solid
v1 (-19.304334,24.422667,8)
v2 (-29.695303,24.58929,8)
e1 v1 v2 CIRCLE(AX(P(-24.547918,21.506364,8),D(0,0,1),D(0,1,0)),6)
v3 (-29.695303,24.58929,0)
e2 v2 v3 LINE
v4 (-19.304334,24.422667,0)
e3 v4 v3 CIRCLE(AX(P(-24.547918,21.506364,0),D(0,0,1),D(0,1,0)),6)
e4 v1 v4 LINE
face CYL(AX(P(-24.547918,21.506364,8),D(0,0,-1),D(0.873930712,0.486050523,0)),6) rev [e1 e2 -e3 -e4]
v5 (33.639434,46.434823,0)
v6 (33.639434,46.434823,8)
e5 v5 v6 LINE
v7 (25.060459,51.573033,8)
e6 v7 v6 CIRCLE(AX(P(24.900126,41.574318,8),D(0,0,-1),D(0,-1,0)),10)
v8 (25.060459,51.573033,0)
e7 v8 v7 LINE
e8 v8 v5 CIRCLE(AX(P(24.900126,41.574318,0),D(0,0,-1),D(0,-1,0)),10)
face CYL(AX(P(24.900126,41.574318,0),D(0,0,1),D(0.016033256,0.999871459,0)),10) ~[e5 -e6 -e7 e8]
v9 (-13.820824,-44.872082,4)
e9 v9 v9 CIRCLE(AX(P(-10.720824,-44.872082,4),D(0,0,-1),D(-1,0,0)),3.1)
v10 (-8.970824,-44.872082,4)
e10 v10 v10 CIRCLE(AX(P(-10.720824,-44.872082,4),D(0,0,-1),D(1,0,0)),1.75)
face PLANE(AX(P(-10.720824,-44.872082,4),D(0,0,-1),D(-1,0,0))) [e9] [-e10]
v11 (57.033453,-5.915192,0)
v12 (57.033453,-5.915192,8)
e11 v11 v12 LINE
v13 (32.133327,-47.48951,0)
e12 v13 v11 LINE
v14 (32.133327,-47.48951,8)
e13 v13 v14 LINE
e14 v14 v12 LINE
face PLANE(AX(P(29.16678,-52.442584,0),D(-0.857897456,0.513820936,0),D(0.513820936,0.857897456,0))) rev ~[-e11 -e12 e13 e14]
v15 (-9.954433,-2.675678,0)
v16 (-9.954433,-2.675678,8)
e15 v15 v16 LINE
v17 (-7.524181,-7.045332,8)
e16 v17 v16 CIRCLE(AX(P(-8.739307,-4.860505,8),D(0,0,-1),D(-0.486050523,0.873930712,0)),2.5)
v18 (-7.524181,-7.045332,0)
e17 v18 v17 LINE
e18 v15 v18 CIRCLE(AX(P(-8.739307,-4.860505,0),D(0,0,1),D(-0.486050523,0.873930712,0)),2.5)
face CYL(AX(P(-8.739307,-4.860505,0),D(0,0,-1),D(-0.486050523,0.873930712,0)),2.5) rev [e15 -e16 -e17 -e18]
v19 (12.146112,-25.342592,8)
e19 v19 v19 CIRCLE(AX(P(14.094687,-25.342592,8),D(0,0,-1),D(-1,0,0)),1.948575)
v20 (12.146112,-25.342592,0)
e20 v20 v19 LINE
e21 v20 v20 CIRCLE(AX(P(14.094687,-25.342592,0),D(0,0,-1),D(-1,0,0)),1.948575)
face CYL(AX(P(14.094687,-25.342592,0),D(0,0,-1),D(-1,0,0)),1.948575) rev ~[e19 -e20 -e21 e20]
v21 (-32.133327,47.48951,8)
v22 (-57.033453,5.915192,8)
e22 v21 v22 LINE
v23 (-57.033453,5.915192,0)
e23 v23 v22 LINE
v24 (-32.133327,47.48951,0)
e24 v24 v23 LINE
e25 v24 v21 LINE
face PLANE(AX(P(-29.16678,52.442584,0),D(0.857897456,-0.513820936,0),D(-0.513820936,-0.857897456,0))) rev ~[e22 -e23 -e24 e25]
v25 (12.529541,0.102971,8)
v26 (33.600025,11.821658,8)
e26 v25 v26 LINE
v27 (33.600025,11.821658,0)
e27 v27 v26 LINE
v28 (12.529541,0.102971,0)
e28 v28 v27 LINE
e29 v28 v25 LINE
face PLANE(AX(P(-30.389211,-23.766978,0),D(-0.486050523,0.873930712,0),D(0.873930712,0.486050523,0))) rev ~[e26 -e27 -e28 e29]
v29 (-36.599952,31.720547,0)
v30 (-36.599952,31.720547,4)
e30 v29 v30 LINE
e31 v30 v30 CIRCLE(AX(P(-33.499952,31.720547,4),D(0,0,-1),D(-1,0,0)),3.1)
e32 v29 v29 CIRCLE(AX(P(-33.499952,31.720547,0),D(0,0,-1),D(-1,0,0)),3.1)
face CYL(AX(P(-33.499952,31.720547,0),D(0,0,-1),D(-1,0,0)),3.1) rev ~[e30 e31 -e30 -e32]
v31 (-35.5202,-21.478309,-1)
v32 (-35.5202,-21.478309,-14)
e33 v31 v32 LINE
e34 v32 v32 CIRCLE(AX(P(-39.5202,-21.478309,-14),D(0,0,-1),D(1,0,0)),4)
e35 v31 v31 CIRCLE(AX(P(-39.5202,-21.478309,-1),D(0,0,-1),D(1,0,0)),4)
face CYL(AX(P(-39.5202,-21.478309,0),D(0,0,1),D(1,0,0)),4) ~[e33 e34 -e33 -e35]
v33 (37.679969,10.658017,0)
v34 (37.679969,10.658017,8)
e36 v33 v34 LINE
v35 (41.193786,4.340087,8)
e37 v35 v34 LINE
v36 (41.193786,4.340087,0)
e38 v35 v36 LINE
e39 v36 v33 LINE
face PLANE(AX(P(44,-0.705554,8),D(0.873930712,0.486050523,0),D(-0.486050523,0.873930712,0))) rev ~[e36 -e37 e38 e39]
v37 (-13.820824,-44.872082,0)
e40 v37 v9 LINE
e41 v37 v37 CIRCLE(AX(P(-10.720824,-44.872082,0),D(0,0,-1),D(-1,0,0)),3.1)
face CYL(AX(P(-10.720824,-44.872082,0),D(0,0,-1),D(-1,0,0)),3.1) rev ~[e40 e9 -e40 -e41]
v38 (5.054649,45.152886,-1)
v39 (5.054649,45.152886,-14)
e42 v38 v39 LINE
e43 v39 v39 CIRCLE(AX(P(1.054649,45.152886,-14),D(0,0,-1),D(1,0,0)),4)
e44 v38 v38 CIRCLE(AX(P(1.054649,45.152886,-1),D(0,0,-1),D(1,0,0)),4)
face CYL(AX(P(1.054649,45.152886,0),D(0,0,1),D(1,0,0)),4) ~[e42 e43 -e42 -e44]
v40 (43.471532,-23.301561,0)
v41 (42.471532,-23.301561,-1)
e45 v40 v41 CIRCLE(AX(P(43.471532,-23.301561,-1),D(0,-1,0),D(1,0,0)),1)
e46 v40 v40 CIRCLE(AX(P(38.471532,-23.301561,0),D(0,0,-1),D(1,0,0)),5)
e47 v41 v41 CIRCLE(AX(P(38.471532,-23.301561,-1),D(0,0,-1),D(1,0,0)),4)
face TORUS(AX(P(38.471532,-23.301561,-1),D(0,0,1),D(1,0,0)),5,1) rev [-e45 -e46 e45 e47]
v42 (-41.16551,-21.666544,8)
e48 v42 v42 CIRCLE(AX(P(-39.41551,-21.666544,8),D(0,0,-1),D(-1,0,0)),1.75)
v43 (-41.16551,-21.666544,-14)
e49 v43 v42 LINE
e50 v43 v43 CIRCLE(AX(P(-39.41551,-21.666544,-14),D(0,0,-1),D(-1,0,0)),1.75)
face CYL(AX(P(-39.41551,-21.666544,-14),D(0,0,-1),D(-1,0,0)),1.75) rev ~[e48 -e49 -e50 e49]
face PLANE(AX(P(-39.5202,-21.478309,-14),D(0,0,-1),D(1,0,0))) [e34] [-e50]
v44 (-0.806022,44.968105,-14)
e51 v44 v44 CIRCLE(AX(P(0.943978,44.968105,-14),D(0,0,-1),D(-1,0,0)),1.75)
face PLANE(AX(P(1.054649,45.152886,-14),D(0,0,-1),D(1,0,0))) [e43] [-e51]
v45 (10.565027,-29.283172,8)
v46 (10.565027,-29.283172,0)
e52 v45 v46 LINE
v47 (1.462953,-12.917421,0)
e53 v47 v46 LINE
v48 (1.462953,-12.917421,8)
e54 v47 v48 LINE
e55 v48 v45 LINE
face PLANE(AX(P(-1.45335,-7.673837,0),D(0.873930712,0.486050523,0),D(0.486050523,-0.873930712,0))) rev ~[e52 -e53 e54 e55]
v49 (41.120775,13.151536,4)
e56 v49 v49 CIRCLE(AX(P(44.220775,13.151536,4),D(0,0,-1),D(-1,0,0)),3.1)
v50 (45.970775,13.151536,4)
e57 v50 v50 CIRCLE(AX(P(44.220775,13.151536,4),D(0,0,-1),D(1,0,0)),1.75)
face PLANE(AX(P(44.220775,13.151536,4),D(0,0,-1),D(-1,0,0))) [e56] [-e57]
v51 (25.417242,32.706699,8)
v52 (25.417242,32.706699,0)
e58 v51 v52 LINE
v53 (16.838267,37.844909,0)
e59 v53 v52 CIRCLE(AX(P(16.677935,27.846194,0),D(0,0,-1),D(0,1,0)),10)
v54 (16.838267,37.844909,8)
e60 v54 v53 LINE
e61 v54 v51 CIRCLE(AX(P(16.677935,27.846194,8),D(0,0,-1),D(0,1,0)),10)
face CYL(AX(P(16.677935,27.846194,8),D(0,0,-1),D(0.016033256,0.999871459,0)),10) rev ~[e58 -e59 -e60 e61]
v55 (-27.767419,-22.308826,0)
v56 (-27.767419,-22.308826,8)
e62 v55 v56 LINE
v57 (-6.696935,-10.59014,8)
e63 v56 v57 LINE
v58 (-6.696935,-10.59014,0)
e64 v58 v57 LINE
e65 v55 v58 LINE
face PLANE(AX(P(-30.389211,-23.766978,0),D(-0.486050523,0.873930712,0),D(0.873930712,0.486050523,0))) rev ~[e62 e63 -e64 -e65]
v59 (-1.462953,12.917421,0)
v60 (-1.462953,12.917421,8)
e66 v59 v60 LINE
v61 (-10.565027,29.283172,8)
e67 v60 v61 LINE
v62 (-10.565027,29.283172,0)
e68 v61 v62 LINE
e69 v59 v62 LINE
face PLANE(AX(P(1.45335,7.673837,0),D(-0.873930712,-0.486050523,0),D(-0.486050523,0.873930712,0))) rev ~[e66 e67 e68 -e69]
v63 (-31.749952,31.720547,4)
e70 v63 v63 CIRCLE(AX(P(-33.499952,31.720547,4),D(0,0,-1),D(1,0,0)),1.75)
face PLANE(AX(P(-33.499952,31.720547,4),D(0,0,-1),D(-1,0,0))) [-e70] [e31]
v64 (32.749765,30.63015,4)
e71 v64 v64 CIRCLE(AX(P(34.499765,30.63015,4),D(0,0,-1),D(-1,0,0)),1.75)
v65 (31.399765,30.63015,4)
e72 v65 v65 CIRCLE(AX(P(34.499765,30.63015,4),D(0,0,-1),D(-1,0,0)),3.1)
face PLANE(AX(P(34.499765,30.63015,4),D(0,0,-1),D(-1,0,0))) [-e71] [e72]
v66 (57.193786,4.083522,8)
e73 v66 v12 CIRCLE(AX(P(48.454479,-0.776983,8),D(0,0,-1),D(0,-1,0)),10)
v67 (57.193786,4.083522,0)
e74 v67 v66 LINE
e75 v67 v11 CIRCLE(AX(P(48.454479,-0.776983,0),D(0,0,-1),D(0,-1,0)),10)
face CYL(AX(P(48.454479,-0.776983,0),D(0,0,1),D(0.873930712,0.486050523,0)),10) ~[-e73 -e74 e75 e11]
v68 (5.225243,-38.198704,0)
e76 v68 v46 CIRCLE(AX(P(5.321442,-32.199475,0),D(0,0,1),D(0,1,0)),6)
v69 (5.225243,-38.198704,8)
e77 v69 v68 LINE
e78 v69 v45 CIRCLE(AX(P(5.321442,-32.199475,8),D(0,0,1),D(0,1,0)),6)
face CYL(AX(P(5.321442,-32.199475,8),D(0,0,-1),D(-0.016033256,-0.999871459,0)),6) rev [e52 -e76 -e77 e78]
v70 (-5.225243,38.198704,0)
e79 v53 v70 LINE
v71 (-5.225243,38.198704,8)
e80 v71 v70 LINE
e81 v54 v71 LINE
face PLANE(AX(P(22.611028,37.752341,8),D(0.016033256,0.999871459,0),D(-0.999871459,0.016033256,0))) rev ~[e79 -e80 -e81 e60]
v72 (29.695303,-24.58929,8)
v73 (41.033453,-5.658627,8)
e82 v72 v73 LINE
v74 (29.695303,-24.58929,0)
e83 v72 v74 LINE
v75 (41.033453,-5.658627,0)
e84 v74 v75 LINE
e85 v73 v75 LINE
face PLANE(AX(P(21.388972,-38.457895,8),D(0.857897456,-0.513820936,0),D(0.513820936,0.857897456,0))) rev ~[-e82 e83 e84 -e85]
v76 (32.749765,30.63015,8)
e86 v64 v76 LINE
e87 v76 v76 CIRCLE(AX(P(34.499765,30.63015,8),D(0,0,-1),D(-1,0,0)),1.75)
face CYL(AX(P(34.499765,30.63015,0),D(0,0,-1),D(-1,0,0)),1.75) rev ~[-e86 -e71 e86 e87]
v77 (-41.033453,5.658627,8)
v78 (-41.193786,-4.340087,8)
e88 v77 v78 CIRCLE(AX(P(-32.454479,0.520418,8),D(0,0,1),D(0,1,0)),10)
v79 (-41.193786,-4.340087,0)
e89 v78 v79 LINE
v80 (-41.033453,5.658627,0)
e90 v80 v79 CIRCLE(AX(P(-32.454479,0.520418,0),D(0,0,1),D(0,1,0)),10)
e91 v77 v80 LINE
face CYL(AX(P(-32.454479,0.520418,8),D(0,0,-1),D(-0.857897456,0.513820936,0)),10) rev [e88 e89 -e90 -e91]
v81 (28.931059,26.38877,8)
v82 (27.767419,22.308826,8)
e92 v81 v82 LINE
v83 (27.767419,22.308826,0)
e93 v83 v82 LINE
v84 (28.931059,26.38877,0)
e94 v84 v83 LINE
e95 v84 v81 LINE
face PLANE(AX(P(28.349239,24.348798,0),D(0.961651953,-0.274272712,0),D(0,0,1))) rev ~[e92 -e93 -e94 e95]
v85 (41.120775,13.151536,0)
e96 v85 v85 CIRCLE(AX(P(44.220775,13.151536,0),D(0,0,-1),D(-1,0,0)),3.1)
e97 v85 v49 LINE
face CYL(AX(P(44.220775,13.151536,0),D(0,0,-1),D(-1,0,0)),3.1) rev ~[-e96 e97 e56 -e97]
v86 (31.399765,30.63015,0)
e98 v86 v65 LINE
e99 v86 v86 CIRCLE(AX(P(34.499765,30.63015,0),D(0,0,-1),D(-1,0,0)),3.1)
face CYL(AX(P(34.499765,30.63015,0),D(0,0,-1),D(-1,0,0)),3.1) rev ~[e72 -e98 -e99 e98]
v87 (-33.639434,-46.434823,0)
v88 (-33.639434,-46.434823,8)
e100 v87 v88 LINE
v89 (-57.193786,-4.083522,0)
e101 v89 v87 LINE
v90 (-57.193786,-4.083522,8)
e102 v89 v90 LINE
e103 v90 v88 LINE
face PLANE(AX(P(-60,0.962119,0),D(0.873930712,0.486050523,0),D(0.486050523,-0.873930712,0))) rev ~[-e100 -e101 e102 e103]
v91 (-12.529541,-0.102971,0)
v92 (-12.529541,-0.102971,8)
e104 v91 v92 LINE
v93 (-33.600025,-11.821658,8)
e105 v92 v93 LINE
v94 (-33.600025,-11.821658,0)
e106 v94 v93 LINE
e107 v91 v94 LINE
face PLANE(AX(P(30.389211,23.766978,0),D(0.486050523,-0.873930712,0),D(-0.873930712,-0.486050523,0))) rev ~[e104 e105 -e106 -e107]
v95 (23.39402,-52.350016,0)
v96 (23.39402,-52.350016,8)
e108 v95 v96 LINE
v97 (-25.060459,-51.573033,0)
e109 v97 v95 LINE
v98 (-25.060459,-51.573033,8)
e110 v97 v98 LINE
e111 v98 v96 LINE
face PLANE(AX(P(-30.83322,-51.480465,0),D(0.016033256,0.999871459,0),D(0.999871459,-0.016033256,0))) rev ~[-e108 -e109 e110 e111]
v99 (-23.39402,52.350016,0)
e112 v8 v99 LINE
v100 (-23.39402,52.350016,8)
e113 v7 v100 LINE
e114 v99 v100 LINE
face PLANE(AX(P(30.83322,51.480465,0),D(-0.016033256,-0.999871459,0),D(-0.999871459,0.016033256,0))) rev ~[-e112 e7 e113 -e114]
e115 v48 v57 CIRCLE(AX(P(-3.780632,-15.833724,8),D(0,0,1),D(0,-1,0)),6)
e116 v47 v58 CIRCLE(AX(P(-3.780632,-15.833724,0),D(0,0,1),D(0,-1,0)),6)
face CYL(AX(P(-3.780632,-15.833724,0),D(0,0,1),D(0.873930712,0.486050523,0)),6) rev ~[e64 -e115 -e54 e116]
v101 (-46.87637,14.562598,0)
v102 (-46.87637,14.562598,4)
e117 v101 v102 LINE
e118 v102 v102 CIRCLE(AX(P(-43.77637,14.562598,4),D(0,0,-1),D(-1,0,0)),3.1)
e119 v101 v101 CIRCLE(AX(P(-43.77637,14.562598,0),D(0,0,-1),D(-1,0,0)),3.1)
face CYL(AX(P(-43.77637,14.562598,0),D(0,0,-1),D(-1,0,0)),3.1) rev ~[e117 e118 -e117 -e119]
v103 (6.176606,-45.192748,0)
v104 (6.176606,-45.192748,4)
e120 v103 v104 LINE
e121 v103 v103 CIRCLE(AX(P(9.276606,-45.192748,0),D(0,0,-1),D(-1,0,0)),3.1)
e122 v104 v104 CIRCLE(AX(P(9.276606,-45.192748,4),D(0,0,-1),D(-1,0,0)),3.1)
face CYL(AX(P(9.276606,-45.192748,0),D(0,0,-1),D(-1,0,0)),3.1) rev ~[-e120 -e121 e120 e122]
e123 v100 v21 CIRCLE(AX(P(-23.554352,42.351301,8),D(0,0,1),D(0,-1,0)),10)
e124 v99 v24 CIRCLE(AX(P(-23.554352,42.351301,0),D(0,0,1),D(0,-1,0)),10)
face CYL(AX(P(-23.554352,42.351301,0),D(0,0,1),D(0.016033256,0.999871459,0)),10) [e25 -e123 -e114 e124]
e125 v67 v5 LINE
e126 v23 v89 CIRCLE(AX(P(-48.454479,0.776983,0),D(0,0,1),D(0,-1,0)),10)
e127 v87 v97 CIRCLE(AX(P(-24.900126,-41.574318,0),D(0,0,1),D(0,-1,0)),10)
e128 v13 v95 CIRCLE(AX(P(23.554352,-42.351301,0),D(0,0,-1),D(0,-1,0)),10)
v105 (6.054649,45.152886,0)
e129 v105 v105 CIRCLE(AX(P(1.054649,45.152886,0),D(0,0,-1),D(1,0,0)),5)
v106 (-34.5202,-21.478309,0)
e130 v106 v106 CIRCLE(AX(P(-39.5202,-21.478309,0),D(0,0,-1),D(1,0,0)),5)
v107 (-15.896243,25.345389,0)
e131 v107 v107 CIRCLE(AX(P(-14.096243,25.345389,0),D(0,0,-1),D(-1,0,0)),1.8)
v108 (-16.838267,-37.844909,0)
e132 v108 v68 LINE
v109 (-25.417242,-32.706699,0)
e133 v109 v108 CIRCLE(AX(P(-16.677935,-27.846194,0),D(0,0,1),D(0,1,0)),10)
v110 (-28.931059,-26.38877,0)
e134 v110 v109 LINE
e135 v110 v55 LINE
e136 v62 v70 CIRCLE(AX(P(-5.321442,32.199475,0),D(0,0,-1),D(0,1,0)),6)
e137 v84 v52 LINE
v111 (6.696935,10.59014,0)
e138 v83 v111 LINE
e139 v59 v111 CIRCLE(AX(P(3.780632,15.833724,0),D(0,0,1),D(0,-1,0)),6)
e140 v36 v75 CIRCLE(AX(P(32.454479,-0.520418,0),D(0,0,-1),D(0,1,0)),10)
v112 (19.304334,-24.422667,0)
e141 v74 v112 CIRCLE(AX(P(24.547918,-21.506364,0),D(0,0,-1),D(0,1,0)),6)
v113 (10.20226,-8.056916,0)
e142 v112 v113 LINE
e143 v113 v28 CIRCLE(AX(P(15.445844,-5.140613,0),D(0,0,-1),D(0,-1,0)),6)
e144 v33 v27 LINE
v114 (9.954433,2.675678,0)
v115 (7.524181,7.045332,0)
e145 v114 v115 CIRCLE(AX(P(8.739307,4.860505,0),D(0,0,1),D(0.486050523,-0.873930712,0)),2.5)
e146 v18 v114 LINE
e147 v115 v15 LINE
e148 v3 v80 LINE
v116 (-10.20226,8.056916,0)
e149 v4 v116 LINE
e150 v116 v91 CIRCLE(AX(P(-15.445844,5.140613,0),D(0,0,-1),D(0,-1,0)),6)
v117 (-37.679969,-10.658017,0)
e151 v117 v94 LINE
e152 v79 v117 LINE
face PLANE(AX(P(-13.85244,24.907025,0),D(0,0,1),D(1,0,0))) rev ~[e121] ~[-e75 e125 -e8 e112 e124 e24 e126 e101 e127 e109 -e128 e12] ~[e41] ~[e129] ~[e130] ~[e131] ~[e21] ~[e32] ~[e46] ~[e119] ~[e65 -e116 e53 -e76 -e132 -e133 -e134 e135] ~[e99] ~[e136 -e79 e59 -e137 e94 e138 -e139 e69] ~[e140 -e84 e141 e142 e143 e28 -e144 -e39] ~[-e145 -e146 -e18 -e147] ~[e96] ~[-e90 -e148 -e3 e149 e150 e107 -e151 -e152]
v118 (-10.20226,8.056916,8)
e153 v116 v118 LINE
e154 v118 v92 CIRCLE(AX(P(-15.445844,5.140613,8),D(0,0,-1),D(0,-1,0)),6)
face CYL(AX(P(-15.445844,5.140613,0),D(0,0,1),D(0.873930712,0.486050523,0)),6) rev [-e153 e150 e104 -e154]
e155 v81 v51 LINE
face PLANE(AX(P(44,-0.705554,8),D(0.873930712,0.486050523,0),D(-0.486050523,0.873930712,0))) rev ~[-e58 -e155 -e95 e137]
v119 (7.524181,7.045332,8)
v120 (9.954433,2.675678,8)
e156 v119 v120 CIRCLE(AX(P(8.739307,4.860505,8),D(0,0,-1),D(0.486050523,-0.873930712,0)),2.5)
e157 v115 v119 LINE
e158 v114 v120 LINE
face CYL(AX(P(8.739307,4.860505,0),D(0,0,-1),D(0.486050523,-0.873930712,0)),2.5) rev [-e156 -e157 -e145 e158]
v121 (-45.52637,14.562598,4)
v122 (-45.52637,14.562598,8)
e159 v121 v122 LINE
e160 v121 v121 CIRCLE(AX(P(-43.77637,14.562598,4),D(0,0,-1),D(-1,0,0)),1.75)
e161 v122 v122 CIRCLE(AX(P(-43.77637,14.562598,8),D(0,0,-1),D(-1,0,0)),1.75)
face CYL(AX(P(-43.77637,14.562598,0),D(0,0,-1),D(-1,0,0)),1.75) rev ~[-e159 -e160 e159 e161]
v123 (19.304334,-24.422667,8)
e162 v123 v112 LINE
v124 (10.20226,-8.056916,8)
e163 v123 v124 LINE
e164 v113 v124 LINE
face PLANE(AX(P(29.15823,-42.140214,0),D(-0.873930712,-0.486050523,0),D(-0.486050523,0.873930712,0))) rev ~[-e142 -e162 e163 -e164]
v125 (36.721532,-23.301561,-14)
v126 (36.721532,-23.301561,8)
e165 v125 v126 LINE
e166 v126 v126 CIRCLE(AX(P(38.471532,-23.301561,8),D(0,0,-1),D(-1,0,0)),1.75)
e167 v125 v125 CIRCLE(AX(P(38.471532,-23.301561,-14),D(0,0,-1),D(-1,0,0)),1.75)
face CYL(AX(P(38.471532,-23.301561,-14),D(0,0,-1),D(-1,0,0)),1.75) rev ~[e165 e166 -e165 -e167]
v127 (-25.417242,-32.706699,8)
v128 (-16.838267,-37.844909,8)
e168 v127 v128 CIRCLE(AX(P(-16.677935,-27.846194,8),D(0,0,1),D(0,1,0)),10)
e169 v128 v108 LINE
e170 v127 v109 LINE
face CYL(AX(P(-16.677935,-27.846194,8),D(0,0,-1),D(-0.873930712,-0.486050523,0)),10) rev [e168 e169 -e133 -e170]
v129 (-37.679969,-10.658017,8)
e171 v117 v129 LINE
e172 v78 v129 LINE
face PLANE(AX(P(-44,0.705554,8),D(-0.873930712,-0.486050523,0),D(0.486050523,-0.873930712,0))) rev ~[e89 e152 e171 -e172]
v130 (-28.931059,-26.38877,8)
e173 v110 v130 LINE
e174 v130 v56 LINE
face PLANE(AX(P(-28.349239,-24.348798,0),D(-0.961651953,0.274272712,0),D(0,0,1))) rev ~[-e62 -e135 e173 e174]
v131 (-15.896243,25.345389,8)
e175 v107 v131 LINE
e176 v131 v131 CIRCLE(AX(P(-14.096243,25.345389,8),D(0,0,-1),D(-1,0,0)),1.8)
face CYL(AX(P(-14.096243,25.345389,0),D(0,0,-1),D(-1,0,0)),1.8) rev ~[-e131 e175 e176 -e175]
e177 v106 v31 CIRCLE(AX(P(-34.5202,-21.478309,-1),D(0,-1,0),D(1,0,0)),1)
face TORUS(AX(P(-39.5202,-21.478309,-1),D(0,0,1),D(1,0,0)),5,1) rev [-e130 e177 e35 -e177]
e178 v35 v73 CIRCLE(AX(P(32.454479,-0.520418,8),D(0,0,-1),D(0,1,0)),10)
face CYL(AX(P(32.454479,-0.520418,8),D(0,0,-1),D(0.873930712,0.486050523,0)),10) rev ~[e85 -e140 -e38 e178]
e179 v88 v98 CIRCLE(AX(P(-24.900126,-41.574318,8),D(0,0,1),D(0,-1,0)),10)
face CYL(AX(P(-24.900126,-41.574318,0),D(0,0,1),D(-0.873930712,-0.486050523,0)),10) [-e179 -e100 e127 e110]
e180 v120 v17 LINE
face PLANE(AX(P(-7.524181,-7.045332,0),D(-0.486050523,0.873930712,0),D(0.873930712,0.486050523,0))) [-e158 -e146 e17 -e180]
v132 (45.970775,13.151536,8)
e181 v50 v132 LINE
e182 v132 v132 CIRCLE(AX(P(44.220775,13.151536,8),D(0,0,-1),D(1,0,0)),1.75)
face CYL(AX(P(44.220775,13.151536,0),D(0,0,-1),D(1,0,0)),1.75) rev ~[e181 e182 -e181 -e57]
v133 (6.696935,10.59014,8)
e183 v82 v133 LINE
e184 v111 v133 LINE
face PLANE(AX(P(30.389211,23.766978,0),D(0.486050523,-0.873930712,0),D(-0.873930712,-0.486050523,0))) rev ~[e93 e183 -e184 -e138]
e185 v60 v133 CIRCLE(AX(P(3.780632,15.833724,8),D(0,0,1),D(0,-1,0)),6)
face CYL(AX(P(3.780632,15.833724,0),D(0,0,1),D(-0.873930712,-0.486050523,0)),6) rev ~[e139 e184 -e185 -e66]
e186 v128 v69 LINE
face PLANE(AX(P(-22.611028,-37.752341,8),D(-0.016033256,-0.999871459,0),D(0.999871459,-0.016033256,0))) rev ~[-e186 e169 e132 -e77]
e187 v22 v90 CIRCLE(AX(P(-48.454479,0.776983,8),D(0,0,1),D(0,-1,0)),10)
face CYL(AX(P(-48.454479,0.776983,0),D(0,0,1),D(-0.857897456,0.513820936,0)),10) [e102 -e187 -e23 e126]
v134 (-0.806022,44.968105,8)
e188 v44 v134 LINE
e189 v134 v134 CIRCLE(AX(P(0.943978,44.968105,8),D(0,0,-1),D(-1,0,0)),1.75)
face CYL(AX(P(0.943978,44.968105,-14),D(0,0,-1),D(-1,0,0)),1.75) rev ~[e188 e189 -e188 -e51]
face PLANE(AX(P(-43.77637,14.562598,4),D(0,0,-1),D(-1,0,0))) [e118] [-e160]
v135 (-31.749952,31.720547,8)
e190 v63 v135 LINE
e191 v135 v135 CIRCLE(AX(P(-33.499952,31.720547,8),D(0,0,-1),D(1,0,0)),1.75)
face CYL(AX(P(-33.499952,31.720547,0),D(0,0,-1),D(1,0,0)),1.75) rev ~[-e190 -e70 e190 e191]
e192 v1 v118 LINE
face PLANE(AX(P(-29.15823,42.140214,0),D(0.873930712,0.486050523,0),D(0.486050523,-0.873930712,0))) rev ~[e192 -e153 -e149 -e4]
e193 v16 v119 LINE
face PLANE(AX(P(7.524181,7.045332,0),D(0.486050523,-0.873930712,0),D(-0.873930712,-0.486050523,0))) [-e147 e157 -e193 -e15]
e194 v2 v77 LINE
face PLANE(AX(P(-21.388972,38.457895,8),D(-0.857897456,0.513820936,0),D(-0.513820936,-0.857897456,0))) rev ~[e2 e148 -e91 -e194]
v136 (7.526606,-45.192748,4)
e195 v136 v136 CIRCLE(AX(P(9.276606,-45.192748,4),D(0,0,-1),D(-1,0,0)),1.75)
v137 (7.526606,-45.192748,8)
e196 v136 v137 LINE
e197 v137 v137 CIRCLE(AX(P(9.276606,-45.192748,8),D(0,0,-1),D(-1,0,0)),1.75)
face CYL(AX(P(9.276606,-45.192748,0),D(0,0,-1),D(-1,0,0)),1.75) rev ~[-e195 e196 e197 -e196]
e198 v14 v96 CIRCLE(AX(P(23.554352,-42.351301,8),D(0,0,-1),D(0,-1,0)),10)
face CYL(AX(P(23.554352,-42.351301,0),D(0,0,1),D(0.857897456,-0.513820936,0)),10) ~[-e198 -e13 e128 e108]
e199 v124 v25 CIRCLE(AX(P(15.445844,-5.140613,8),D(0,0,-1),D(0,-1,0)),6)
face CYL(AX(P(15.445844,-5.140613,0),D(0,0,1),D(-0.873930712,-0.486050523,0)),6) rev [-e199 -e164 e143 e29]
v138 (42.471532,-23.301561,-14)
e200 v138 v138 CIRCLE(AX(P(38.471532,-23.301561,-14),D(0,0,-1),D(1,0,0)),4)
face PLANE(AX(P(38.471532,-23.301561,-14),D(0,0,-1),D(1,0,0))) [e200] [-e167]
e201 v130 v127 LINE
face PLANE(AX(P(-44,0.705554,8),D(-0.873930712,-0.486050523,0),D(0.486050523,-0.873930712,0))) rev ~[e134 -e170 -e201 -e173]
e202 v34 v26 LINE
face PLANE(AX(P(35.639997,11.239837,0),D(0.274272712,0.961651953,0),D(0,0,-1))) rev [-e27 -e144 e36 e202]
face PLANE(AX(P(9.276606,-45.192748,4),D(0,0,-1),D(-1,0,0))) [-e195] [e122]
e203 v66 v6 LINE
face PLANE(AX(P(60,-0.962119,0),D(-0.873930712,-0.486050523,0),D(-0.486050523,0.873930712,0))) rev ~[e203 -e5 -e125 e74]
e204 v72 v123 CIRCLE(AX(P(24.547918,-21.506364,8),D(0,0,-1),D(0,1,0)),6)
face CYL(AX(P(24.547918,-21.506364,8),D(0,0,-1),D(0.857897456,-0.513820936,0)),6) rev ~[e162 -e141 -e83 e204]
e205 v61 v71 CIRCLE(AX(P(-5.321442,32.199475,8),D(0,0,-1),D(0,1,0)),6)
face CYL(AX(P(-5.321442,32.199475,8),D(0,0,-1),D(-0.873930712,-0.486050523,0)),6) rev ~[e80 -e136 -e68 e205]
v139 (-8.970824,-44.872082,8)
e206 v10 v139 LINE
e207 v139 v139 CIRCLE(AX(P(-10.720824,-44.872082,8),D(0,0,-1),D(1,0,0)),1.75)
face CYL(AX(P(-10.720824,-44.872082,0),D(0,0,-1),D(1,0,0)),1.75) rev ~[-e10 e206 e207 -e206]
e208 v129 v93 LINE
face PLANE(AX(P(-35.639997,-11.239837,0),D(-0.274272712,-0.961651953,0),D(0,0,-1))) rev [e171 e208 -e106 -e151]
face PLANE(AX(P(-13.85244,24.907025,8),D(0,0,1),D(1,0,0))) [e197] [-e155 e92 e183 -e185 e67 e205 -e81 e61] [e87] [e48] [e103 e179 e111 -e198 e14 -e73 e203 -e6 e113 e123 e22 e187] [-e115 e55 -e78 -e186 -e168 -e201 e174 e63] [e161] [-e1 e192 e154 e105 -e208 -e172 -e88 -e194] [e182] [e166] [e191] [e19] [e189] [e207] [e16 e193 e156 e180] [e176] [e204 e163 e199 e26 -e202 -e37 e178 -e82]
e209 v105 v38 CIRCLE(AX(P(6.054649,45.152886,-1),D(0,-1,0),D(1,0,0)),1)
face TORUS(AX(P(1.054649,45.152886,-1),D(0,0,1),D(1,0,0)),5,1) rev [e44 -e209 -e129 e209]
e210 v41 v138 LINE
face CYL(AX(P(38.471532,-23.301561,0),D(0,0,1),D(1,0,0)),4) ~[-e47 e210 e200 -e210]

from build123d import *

# Parameters (mm, degrees)
BOSS_EXTRUDE1_DEPTH = 8
CUT_EXTRUDE1_DEPTH  = 10
SKETCH3_R           = 1.75
CUT_EXTRUDE2_DEPTH  = 10
FILLET1_R           = 10
BOSS_EXTRUDE2_DEPTH = 8
CHAMFER1_SIZE       = 3
SKETCH5_R           = 3.1
CUT_EXTRUDE3_DEPTH  = 4
BOSS_EXTRUDE3_DEPTH = 8
SKETCH9_R           = 4
BOSS_EXTRUDE5_DEPTH = 14
SKETCH10_R          = 1.75
CUT_EXTRUDE4_DEPTH  = 37
FILLET4_R           = 1
CUT_EXTRUDE5_DEPTH  = 10
FILLET9_R           = 6
FILLET10_R          = 6
SKETCH13_R          = 1.948575194
SKETCH13_R_2        = 1.8
CUT_EXTRUDE7_DEPTH  = 22


with BuildPart() as part:
    # Sketch1 → Boss-Extrude1 (new body)
    with BuildSketch(Plane.XY):
        Polygon((30.83321951, 51.480464718), (-29.16678049, 52.442583736), (-60, 0.962119017), (-30.83321951, -51.480464718), (29.16678049, -52.442583736), (60, -0.962119017), align=None)
    extrude(amount=BOSS_EXTRUDE1_DEPTH)

    # Sketch2 → Cut-Extrude1 (cut)
    with BuildSketch(Plane.XY.offset(8)):
        Polygon((-21.388972359, 38.45789474), (-44, 0.705553946), (-22.611027641, -37.752340793), (21.388972359, -38.45789474), (44, -0.705553946), (22.611027641, 37.752340793), align=None)
    extrude(amount=-CUT_EXTRUDE1_DEPTH, mode=Mode.SUBTRACT)

    # Sketch3 → Cut-Extrude2 (cut)
    with BuildSketch(Plane(origin=(0, 0, 0), x_dir=(-1, 0, 0), z_dir=(0, 0, -1))):
        with Locations((-9.276605543, -45.192747573)):
            Circle(SKETCH3_R)
        with Locations(Location((10.720823639, -44.872082458, 0), (0, 0, 180))):
            Circle(SKETCH3_R)
        with Locations((-34.499764694, 30.630149848)):
            Circle(SKETCH3_R)
        with Locations(Location((-44.220775149, 13.151535608, 0), (0, 0, 180))):
            Circle(SKETCH3_R)
        with Locations((43.776370237, 14.562597726)):
            Circle(SKETCH3_R)
        with Locations(Location((33.49995151, 31.72054685, 0), (0, 0, 180))):
            Circle(SKETCH3_R)
    extrude(amount=-CUT_EXTRUDE2_DEPTH, mode=Mode.SUBTRACT)

    # Fillet1
    fillet1_edges = [part.edges().sort_by_distance(p)[0] for p in [
        (60, -0.962119017, 4),
        (29.16678049, -52.442583736, 4),
        (-30.83321951, -51.480464718, 4),
        (-60, 0.962119017, 4),
        (-29.16678049, 52.442583736, 4),
        (30.83321951, 51.480464718, 4),
        (-21.388972359, 38.45789474, 4),
        (22.611027641, 37.752340793, 4),
        (44, -0.705553946, 4),
        (21.388972359, -38.45789474, 4),
        (-22.611027641, -37.752340793, 4),
        (-44, 0.705553946, 4),
    ]]
    fillet(fillet1_edges, radius=FILLET1_R)

    # Sketch4 → Boss-Extrude2 (add)
    with BuildSketch(Plane(origin=(0, 0, 0), x_dir=(-1, 0, 0), z_dir=(0, 0, -1))):
        Polygon((-30.389210684, 23.766977696), (36.221816957, -13.279809152), (30.389210684, -23.766977696), (-36.221816957, 13.279809152), align=None)
    extrude(amount=-BOSS_EXTRUDE2_DEPTH)

    # Chamfer1
    chamfer1_edges = [part.edges().sort_by_distance(p)[0] for p in [
        (-30.389210684, -23.766977696, 4),
        (-36.221816957, -13.279809152, 4),
        (30.389210684, 23.766977696, 4),
        (36.221816957, 13.279809152, 4),
    ]]
    chamfer(chamfer1_edges, length=CHAMFER1_SIZE)

    # Sketch5 → Cut-Extrude3 (cut)
    with BuildSketch(Plane(origin=(0, 0, 0), x_dir=(-1, 0, 0), z_dir=(0, 0, -1))):
        with Locations((43.776370237, 14.562597726)):
            Circle(SKETCH5_R)
        with Locations((33.49995151, 31.72054685)):
            Circle(SKETCH5_R)
        with Locations((-9.276605543, -45.192747573)):
            Circle(SKETCH5_R)
        with Locations((10.720823639, -44.872082458)):
            Circle(SKETCH5_R)
        with Locations((-34.499764694, 30.630149848)):
            Circle(SKETCH5_R)
        with Locations((-44.220775149, 13.151535608)):
            Circle(SKETCH5_R)
    extrude(amount=-CUT_EXTRUDE3_DEPTH, mode=Mode.SUBTRACT)

    # Sketch7 → Boss-Extrude3 (add)
    with BuildSketch(Plane(origin=(0, 0, 0), x_dir=(-1, 0, 0), z_dir=(0, 0, -1))):
        Polygon((-1.453350423, 7.673836886), (20.4189231, 47.000718924), (29.15823022, 42.140213697), (7.285956696, 2.813331658), align=None)
        Polygon((1.453350423, -7.673836886), (-20.4189231, -47.000718924), (-29.15823022, -42.140213697), (-7.285956696, -2.813331658), align=None)
    extrude(amount=-BOSS_EXTRUDE3_DEPTH)

    # Sketch9 → Boss-Extrude5 (add)
    with BuildSketch(Plane(origin=(0, 0, 0), x_dir=(-1, 0, 0), z_dir=(0, 0, -1))):
        with Locations(Location((39.520199599, -21.478309331, 0), (0, 0, 180))):
            Circle(SKETCH9_R)
        with Locations(Location((-38.471532181, -23.301561321, 0), (0, 0, 180))):
            Circle(SKETCH9_R)
        with Locations(Location((-1.054648832, 45.15288568, 0), (0, 0, 180))):
            Circle(SKETCH9_R)
    extrude(amount=BOSS_EXTRUDE5_DEPTH)

    # Sketch10 → Cut-Extrude4 (cut)
    with BuildSketch(Plane(origin=(0, 0, -14), x_dir=(-1, 0, 0), z_dir=(0, 0, -1))):
        with Locations((-38.471532181, -23.301561321)):
            Circle(SKETCH10_R)
        with Locations((-0.943977962, 44.968104852)):
            Circle(SKETCH10_R)
        with Locations((39.415510143, -21.66654353)):
            Circle(SKETCH10_R)
    extrude(amount=-CUT_EXTRUDE4_DEPTH, mode=Mode.SUBTRACT)

    # Fillet4
    fillet4_edges = [part.edges().sort_by_distance(p)[0] for p in [
        (-43.520199599, -21.478309331, 0),
        (34.471532181, -23.301561321, 0),
        (-2.945351168, 45.15288568, 0),
    ]]
    fillet(fillet4_edges, radius=FILLET4_R)

    # Sketch11 → Cut-Extrude5 (cut)
    with BuildSketch(Plane(origin=(0, 0, 0), x_dir=(-1, 0, 0), z_dir=(0, 0, -1))):
        with BuildLine():
            Line((-7.524180813, 7.045332007), (9.954433427, -2.675678448))
            ThreePointArc((9.954433427, -2.675678448), (10.9241339, -6.075631534), (7.524180813, -7.045332007))
            Line((7.524180813, -7.045332007), (-9.954433427, 2.675678448))
            ThreePointArc((-9.954433427, 2.675678448), (-10.9241339, 6.075631534), (-7.524180813, 7.045332007))
        make_face()
    extrude(amount=-CUT_EXTRUDE5_DEPTH, mode=Mode.SUBTRACT)

    # Fillet9
    fillet9_edges = [part.edges().sort_by_distance(p)[0] for p in [
        (24.355518918, -33.504821467, 4),
        (15.616211798, -38.365326694, 4),
        (-24.355518918, 33.504821467, 4),
        (-15.616211798, 38.365326694, 4),
    ]]
    fillet(fillet9_edges, radius=FILLET9_R)

    # Fillet10
    fillet10_edges = [part.edges().sort_by_distance(p)[0] for p in [
        (1.453350423, 7.673836886, 4),
        (-7.285956696, 2.813331658, 4),
        (-1.453350423, -7.673836886, 4),
        (7.285956696, -2.813331658, 4),
    ]]
    fillet(fillet10_edges, radius=FILLET10_R)

    # Sketch13 → Cut-Extrude7 (cut)
    with BuildSketch(Plane(origin=(0, 0, 0), x_dir=(-1, 0, 0), z_dir=(0, 0, -1))):
        with Locations((-14.094687316, -25.342592065)):
            Circle(SKETCH13_R)
        with Locations((14.096243004, 25.34538923)):
            Circle(SKETCH13_R_2)
    extrude(amount=-CUT_EXTRUDE7_DEPTH, mode=Mode.SUBTRACT)


solid = part.part
